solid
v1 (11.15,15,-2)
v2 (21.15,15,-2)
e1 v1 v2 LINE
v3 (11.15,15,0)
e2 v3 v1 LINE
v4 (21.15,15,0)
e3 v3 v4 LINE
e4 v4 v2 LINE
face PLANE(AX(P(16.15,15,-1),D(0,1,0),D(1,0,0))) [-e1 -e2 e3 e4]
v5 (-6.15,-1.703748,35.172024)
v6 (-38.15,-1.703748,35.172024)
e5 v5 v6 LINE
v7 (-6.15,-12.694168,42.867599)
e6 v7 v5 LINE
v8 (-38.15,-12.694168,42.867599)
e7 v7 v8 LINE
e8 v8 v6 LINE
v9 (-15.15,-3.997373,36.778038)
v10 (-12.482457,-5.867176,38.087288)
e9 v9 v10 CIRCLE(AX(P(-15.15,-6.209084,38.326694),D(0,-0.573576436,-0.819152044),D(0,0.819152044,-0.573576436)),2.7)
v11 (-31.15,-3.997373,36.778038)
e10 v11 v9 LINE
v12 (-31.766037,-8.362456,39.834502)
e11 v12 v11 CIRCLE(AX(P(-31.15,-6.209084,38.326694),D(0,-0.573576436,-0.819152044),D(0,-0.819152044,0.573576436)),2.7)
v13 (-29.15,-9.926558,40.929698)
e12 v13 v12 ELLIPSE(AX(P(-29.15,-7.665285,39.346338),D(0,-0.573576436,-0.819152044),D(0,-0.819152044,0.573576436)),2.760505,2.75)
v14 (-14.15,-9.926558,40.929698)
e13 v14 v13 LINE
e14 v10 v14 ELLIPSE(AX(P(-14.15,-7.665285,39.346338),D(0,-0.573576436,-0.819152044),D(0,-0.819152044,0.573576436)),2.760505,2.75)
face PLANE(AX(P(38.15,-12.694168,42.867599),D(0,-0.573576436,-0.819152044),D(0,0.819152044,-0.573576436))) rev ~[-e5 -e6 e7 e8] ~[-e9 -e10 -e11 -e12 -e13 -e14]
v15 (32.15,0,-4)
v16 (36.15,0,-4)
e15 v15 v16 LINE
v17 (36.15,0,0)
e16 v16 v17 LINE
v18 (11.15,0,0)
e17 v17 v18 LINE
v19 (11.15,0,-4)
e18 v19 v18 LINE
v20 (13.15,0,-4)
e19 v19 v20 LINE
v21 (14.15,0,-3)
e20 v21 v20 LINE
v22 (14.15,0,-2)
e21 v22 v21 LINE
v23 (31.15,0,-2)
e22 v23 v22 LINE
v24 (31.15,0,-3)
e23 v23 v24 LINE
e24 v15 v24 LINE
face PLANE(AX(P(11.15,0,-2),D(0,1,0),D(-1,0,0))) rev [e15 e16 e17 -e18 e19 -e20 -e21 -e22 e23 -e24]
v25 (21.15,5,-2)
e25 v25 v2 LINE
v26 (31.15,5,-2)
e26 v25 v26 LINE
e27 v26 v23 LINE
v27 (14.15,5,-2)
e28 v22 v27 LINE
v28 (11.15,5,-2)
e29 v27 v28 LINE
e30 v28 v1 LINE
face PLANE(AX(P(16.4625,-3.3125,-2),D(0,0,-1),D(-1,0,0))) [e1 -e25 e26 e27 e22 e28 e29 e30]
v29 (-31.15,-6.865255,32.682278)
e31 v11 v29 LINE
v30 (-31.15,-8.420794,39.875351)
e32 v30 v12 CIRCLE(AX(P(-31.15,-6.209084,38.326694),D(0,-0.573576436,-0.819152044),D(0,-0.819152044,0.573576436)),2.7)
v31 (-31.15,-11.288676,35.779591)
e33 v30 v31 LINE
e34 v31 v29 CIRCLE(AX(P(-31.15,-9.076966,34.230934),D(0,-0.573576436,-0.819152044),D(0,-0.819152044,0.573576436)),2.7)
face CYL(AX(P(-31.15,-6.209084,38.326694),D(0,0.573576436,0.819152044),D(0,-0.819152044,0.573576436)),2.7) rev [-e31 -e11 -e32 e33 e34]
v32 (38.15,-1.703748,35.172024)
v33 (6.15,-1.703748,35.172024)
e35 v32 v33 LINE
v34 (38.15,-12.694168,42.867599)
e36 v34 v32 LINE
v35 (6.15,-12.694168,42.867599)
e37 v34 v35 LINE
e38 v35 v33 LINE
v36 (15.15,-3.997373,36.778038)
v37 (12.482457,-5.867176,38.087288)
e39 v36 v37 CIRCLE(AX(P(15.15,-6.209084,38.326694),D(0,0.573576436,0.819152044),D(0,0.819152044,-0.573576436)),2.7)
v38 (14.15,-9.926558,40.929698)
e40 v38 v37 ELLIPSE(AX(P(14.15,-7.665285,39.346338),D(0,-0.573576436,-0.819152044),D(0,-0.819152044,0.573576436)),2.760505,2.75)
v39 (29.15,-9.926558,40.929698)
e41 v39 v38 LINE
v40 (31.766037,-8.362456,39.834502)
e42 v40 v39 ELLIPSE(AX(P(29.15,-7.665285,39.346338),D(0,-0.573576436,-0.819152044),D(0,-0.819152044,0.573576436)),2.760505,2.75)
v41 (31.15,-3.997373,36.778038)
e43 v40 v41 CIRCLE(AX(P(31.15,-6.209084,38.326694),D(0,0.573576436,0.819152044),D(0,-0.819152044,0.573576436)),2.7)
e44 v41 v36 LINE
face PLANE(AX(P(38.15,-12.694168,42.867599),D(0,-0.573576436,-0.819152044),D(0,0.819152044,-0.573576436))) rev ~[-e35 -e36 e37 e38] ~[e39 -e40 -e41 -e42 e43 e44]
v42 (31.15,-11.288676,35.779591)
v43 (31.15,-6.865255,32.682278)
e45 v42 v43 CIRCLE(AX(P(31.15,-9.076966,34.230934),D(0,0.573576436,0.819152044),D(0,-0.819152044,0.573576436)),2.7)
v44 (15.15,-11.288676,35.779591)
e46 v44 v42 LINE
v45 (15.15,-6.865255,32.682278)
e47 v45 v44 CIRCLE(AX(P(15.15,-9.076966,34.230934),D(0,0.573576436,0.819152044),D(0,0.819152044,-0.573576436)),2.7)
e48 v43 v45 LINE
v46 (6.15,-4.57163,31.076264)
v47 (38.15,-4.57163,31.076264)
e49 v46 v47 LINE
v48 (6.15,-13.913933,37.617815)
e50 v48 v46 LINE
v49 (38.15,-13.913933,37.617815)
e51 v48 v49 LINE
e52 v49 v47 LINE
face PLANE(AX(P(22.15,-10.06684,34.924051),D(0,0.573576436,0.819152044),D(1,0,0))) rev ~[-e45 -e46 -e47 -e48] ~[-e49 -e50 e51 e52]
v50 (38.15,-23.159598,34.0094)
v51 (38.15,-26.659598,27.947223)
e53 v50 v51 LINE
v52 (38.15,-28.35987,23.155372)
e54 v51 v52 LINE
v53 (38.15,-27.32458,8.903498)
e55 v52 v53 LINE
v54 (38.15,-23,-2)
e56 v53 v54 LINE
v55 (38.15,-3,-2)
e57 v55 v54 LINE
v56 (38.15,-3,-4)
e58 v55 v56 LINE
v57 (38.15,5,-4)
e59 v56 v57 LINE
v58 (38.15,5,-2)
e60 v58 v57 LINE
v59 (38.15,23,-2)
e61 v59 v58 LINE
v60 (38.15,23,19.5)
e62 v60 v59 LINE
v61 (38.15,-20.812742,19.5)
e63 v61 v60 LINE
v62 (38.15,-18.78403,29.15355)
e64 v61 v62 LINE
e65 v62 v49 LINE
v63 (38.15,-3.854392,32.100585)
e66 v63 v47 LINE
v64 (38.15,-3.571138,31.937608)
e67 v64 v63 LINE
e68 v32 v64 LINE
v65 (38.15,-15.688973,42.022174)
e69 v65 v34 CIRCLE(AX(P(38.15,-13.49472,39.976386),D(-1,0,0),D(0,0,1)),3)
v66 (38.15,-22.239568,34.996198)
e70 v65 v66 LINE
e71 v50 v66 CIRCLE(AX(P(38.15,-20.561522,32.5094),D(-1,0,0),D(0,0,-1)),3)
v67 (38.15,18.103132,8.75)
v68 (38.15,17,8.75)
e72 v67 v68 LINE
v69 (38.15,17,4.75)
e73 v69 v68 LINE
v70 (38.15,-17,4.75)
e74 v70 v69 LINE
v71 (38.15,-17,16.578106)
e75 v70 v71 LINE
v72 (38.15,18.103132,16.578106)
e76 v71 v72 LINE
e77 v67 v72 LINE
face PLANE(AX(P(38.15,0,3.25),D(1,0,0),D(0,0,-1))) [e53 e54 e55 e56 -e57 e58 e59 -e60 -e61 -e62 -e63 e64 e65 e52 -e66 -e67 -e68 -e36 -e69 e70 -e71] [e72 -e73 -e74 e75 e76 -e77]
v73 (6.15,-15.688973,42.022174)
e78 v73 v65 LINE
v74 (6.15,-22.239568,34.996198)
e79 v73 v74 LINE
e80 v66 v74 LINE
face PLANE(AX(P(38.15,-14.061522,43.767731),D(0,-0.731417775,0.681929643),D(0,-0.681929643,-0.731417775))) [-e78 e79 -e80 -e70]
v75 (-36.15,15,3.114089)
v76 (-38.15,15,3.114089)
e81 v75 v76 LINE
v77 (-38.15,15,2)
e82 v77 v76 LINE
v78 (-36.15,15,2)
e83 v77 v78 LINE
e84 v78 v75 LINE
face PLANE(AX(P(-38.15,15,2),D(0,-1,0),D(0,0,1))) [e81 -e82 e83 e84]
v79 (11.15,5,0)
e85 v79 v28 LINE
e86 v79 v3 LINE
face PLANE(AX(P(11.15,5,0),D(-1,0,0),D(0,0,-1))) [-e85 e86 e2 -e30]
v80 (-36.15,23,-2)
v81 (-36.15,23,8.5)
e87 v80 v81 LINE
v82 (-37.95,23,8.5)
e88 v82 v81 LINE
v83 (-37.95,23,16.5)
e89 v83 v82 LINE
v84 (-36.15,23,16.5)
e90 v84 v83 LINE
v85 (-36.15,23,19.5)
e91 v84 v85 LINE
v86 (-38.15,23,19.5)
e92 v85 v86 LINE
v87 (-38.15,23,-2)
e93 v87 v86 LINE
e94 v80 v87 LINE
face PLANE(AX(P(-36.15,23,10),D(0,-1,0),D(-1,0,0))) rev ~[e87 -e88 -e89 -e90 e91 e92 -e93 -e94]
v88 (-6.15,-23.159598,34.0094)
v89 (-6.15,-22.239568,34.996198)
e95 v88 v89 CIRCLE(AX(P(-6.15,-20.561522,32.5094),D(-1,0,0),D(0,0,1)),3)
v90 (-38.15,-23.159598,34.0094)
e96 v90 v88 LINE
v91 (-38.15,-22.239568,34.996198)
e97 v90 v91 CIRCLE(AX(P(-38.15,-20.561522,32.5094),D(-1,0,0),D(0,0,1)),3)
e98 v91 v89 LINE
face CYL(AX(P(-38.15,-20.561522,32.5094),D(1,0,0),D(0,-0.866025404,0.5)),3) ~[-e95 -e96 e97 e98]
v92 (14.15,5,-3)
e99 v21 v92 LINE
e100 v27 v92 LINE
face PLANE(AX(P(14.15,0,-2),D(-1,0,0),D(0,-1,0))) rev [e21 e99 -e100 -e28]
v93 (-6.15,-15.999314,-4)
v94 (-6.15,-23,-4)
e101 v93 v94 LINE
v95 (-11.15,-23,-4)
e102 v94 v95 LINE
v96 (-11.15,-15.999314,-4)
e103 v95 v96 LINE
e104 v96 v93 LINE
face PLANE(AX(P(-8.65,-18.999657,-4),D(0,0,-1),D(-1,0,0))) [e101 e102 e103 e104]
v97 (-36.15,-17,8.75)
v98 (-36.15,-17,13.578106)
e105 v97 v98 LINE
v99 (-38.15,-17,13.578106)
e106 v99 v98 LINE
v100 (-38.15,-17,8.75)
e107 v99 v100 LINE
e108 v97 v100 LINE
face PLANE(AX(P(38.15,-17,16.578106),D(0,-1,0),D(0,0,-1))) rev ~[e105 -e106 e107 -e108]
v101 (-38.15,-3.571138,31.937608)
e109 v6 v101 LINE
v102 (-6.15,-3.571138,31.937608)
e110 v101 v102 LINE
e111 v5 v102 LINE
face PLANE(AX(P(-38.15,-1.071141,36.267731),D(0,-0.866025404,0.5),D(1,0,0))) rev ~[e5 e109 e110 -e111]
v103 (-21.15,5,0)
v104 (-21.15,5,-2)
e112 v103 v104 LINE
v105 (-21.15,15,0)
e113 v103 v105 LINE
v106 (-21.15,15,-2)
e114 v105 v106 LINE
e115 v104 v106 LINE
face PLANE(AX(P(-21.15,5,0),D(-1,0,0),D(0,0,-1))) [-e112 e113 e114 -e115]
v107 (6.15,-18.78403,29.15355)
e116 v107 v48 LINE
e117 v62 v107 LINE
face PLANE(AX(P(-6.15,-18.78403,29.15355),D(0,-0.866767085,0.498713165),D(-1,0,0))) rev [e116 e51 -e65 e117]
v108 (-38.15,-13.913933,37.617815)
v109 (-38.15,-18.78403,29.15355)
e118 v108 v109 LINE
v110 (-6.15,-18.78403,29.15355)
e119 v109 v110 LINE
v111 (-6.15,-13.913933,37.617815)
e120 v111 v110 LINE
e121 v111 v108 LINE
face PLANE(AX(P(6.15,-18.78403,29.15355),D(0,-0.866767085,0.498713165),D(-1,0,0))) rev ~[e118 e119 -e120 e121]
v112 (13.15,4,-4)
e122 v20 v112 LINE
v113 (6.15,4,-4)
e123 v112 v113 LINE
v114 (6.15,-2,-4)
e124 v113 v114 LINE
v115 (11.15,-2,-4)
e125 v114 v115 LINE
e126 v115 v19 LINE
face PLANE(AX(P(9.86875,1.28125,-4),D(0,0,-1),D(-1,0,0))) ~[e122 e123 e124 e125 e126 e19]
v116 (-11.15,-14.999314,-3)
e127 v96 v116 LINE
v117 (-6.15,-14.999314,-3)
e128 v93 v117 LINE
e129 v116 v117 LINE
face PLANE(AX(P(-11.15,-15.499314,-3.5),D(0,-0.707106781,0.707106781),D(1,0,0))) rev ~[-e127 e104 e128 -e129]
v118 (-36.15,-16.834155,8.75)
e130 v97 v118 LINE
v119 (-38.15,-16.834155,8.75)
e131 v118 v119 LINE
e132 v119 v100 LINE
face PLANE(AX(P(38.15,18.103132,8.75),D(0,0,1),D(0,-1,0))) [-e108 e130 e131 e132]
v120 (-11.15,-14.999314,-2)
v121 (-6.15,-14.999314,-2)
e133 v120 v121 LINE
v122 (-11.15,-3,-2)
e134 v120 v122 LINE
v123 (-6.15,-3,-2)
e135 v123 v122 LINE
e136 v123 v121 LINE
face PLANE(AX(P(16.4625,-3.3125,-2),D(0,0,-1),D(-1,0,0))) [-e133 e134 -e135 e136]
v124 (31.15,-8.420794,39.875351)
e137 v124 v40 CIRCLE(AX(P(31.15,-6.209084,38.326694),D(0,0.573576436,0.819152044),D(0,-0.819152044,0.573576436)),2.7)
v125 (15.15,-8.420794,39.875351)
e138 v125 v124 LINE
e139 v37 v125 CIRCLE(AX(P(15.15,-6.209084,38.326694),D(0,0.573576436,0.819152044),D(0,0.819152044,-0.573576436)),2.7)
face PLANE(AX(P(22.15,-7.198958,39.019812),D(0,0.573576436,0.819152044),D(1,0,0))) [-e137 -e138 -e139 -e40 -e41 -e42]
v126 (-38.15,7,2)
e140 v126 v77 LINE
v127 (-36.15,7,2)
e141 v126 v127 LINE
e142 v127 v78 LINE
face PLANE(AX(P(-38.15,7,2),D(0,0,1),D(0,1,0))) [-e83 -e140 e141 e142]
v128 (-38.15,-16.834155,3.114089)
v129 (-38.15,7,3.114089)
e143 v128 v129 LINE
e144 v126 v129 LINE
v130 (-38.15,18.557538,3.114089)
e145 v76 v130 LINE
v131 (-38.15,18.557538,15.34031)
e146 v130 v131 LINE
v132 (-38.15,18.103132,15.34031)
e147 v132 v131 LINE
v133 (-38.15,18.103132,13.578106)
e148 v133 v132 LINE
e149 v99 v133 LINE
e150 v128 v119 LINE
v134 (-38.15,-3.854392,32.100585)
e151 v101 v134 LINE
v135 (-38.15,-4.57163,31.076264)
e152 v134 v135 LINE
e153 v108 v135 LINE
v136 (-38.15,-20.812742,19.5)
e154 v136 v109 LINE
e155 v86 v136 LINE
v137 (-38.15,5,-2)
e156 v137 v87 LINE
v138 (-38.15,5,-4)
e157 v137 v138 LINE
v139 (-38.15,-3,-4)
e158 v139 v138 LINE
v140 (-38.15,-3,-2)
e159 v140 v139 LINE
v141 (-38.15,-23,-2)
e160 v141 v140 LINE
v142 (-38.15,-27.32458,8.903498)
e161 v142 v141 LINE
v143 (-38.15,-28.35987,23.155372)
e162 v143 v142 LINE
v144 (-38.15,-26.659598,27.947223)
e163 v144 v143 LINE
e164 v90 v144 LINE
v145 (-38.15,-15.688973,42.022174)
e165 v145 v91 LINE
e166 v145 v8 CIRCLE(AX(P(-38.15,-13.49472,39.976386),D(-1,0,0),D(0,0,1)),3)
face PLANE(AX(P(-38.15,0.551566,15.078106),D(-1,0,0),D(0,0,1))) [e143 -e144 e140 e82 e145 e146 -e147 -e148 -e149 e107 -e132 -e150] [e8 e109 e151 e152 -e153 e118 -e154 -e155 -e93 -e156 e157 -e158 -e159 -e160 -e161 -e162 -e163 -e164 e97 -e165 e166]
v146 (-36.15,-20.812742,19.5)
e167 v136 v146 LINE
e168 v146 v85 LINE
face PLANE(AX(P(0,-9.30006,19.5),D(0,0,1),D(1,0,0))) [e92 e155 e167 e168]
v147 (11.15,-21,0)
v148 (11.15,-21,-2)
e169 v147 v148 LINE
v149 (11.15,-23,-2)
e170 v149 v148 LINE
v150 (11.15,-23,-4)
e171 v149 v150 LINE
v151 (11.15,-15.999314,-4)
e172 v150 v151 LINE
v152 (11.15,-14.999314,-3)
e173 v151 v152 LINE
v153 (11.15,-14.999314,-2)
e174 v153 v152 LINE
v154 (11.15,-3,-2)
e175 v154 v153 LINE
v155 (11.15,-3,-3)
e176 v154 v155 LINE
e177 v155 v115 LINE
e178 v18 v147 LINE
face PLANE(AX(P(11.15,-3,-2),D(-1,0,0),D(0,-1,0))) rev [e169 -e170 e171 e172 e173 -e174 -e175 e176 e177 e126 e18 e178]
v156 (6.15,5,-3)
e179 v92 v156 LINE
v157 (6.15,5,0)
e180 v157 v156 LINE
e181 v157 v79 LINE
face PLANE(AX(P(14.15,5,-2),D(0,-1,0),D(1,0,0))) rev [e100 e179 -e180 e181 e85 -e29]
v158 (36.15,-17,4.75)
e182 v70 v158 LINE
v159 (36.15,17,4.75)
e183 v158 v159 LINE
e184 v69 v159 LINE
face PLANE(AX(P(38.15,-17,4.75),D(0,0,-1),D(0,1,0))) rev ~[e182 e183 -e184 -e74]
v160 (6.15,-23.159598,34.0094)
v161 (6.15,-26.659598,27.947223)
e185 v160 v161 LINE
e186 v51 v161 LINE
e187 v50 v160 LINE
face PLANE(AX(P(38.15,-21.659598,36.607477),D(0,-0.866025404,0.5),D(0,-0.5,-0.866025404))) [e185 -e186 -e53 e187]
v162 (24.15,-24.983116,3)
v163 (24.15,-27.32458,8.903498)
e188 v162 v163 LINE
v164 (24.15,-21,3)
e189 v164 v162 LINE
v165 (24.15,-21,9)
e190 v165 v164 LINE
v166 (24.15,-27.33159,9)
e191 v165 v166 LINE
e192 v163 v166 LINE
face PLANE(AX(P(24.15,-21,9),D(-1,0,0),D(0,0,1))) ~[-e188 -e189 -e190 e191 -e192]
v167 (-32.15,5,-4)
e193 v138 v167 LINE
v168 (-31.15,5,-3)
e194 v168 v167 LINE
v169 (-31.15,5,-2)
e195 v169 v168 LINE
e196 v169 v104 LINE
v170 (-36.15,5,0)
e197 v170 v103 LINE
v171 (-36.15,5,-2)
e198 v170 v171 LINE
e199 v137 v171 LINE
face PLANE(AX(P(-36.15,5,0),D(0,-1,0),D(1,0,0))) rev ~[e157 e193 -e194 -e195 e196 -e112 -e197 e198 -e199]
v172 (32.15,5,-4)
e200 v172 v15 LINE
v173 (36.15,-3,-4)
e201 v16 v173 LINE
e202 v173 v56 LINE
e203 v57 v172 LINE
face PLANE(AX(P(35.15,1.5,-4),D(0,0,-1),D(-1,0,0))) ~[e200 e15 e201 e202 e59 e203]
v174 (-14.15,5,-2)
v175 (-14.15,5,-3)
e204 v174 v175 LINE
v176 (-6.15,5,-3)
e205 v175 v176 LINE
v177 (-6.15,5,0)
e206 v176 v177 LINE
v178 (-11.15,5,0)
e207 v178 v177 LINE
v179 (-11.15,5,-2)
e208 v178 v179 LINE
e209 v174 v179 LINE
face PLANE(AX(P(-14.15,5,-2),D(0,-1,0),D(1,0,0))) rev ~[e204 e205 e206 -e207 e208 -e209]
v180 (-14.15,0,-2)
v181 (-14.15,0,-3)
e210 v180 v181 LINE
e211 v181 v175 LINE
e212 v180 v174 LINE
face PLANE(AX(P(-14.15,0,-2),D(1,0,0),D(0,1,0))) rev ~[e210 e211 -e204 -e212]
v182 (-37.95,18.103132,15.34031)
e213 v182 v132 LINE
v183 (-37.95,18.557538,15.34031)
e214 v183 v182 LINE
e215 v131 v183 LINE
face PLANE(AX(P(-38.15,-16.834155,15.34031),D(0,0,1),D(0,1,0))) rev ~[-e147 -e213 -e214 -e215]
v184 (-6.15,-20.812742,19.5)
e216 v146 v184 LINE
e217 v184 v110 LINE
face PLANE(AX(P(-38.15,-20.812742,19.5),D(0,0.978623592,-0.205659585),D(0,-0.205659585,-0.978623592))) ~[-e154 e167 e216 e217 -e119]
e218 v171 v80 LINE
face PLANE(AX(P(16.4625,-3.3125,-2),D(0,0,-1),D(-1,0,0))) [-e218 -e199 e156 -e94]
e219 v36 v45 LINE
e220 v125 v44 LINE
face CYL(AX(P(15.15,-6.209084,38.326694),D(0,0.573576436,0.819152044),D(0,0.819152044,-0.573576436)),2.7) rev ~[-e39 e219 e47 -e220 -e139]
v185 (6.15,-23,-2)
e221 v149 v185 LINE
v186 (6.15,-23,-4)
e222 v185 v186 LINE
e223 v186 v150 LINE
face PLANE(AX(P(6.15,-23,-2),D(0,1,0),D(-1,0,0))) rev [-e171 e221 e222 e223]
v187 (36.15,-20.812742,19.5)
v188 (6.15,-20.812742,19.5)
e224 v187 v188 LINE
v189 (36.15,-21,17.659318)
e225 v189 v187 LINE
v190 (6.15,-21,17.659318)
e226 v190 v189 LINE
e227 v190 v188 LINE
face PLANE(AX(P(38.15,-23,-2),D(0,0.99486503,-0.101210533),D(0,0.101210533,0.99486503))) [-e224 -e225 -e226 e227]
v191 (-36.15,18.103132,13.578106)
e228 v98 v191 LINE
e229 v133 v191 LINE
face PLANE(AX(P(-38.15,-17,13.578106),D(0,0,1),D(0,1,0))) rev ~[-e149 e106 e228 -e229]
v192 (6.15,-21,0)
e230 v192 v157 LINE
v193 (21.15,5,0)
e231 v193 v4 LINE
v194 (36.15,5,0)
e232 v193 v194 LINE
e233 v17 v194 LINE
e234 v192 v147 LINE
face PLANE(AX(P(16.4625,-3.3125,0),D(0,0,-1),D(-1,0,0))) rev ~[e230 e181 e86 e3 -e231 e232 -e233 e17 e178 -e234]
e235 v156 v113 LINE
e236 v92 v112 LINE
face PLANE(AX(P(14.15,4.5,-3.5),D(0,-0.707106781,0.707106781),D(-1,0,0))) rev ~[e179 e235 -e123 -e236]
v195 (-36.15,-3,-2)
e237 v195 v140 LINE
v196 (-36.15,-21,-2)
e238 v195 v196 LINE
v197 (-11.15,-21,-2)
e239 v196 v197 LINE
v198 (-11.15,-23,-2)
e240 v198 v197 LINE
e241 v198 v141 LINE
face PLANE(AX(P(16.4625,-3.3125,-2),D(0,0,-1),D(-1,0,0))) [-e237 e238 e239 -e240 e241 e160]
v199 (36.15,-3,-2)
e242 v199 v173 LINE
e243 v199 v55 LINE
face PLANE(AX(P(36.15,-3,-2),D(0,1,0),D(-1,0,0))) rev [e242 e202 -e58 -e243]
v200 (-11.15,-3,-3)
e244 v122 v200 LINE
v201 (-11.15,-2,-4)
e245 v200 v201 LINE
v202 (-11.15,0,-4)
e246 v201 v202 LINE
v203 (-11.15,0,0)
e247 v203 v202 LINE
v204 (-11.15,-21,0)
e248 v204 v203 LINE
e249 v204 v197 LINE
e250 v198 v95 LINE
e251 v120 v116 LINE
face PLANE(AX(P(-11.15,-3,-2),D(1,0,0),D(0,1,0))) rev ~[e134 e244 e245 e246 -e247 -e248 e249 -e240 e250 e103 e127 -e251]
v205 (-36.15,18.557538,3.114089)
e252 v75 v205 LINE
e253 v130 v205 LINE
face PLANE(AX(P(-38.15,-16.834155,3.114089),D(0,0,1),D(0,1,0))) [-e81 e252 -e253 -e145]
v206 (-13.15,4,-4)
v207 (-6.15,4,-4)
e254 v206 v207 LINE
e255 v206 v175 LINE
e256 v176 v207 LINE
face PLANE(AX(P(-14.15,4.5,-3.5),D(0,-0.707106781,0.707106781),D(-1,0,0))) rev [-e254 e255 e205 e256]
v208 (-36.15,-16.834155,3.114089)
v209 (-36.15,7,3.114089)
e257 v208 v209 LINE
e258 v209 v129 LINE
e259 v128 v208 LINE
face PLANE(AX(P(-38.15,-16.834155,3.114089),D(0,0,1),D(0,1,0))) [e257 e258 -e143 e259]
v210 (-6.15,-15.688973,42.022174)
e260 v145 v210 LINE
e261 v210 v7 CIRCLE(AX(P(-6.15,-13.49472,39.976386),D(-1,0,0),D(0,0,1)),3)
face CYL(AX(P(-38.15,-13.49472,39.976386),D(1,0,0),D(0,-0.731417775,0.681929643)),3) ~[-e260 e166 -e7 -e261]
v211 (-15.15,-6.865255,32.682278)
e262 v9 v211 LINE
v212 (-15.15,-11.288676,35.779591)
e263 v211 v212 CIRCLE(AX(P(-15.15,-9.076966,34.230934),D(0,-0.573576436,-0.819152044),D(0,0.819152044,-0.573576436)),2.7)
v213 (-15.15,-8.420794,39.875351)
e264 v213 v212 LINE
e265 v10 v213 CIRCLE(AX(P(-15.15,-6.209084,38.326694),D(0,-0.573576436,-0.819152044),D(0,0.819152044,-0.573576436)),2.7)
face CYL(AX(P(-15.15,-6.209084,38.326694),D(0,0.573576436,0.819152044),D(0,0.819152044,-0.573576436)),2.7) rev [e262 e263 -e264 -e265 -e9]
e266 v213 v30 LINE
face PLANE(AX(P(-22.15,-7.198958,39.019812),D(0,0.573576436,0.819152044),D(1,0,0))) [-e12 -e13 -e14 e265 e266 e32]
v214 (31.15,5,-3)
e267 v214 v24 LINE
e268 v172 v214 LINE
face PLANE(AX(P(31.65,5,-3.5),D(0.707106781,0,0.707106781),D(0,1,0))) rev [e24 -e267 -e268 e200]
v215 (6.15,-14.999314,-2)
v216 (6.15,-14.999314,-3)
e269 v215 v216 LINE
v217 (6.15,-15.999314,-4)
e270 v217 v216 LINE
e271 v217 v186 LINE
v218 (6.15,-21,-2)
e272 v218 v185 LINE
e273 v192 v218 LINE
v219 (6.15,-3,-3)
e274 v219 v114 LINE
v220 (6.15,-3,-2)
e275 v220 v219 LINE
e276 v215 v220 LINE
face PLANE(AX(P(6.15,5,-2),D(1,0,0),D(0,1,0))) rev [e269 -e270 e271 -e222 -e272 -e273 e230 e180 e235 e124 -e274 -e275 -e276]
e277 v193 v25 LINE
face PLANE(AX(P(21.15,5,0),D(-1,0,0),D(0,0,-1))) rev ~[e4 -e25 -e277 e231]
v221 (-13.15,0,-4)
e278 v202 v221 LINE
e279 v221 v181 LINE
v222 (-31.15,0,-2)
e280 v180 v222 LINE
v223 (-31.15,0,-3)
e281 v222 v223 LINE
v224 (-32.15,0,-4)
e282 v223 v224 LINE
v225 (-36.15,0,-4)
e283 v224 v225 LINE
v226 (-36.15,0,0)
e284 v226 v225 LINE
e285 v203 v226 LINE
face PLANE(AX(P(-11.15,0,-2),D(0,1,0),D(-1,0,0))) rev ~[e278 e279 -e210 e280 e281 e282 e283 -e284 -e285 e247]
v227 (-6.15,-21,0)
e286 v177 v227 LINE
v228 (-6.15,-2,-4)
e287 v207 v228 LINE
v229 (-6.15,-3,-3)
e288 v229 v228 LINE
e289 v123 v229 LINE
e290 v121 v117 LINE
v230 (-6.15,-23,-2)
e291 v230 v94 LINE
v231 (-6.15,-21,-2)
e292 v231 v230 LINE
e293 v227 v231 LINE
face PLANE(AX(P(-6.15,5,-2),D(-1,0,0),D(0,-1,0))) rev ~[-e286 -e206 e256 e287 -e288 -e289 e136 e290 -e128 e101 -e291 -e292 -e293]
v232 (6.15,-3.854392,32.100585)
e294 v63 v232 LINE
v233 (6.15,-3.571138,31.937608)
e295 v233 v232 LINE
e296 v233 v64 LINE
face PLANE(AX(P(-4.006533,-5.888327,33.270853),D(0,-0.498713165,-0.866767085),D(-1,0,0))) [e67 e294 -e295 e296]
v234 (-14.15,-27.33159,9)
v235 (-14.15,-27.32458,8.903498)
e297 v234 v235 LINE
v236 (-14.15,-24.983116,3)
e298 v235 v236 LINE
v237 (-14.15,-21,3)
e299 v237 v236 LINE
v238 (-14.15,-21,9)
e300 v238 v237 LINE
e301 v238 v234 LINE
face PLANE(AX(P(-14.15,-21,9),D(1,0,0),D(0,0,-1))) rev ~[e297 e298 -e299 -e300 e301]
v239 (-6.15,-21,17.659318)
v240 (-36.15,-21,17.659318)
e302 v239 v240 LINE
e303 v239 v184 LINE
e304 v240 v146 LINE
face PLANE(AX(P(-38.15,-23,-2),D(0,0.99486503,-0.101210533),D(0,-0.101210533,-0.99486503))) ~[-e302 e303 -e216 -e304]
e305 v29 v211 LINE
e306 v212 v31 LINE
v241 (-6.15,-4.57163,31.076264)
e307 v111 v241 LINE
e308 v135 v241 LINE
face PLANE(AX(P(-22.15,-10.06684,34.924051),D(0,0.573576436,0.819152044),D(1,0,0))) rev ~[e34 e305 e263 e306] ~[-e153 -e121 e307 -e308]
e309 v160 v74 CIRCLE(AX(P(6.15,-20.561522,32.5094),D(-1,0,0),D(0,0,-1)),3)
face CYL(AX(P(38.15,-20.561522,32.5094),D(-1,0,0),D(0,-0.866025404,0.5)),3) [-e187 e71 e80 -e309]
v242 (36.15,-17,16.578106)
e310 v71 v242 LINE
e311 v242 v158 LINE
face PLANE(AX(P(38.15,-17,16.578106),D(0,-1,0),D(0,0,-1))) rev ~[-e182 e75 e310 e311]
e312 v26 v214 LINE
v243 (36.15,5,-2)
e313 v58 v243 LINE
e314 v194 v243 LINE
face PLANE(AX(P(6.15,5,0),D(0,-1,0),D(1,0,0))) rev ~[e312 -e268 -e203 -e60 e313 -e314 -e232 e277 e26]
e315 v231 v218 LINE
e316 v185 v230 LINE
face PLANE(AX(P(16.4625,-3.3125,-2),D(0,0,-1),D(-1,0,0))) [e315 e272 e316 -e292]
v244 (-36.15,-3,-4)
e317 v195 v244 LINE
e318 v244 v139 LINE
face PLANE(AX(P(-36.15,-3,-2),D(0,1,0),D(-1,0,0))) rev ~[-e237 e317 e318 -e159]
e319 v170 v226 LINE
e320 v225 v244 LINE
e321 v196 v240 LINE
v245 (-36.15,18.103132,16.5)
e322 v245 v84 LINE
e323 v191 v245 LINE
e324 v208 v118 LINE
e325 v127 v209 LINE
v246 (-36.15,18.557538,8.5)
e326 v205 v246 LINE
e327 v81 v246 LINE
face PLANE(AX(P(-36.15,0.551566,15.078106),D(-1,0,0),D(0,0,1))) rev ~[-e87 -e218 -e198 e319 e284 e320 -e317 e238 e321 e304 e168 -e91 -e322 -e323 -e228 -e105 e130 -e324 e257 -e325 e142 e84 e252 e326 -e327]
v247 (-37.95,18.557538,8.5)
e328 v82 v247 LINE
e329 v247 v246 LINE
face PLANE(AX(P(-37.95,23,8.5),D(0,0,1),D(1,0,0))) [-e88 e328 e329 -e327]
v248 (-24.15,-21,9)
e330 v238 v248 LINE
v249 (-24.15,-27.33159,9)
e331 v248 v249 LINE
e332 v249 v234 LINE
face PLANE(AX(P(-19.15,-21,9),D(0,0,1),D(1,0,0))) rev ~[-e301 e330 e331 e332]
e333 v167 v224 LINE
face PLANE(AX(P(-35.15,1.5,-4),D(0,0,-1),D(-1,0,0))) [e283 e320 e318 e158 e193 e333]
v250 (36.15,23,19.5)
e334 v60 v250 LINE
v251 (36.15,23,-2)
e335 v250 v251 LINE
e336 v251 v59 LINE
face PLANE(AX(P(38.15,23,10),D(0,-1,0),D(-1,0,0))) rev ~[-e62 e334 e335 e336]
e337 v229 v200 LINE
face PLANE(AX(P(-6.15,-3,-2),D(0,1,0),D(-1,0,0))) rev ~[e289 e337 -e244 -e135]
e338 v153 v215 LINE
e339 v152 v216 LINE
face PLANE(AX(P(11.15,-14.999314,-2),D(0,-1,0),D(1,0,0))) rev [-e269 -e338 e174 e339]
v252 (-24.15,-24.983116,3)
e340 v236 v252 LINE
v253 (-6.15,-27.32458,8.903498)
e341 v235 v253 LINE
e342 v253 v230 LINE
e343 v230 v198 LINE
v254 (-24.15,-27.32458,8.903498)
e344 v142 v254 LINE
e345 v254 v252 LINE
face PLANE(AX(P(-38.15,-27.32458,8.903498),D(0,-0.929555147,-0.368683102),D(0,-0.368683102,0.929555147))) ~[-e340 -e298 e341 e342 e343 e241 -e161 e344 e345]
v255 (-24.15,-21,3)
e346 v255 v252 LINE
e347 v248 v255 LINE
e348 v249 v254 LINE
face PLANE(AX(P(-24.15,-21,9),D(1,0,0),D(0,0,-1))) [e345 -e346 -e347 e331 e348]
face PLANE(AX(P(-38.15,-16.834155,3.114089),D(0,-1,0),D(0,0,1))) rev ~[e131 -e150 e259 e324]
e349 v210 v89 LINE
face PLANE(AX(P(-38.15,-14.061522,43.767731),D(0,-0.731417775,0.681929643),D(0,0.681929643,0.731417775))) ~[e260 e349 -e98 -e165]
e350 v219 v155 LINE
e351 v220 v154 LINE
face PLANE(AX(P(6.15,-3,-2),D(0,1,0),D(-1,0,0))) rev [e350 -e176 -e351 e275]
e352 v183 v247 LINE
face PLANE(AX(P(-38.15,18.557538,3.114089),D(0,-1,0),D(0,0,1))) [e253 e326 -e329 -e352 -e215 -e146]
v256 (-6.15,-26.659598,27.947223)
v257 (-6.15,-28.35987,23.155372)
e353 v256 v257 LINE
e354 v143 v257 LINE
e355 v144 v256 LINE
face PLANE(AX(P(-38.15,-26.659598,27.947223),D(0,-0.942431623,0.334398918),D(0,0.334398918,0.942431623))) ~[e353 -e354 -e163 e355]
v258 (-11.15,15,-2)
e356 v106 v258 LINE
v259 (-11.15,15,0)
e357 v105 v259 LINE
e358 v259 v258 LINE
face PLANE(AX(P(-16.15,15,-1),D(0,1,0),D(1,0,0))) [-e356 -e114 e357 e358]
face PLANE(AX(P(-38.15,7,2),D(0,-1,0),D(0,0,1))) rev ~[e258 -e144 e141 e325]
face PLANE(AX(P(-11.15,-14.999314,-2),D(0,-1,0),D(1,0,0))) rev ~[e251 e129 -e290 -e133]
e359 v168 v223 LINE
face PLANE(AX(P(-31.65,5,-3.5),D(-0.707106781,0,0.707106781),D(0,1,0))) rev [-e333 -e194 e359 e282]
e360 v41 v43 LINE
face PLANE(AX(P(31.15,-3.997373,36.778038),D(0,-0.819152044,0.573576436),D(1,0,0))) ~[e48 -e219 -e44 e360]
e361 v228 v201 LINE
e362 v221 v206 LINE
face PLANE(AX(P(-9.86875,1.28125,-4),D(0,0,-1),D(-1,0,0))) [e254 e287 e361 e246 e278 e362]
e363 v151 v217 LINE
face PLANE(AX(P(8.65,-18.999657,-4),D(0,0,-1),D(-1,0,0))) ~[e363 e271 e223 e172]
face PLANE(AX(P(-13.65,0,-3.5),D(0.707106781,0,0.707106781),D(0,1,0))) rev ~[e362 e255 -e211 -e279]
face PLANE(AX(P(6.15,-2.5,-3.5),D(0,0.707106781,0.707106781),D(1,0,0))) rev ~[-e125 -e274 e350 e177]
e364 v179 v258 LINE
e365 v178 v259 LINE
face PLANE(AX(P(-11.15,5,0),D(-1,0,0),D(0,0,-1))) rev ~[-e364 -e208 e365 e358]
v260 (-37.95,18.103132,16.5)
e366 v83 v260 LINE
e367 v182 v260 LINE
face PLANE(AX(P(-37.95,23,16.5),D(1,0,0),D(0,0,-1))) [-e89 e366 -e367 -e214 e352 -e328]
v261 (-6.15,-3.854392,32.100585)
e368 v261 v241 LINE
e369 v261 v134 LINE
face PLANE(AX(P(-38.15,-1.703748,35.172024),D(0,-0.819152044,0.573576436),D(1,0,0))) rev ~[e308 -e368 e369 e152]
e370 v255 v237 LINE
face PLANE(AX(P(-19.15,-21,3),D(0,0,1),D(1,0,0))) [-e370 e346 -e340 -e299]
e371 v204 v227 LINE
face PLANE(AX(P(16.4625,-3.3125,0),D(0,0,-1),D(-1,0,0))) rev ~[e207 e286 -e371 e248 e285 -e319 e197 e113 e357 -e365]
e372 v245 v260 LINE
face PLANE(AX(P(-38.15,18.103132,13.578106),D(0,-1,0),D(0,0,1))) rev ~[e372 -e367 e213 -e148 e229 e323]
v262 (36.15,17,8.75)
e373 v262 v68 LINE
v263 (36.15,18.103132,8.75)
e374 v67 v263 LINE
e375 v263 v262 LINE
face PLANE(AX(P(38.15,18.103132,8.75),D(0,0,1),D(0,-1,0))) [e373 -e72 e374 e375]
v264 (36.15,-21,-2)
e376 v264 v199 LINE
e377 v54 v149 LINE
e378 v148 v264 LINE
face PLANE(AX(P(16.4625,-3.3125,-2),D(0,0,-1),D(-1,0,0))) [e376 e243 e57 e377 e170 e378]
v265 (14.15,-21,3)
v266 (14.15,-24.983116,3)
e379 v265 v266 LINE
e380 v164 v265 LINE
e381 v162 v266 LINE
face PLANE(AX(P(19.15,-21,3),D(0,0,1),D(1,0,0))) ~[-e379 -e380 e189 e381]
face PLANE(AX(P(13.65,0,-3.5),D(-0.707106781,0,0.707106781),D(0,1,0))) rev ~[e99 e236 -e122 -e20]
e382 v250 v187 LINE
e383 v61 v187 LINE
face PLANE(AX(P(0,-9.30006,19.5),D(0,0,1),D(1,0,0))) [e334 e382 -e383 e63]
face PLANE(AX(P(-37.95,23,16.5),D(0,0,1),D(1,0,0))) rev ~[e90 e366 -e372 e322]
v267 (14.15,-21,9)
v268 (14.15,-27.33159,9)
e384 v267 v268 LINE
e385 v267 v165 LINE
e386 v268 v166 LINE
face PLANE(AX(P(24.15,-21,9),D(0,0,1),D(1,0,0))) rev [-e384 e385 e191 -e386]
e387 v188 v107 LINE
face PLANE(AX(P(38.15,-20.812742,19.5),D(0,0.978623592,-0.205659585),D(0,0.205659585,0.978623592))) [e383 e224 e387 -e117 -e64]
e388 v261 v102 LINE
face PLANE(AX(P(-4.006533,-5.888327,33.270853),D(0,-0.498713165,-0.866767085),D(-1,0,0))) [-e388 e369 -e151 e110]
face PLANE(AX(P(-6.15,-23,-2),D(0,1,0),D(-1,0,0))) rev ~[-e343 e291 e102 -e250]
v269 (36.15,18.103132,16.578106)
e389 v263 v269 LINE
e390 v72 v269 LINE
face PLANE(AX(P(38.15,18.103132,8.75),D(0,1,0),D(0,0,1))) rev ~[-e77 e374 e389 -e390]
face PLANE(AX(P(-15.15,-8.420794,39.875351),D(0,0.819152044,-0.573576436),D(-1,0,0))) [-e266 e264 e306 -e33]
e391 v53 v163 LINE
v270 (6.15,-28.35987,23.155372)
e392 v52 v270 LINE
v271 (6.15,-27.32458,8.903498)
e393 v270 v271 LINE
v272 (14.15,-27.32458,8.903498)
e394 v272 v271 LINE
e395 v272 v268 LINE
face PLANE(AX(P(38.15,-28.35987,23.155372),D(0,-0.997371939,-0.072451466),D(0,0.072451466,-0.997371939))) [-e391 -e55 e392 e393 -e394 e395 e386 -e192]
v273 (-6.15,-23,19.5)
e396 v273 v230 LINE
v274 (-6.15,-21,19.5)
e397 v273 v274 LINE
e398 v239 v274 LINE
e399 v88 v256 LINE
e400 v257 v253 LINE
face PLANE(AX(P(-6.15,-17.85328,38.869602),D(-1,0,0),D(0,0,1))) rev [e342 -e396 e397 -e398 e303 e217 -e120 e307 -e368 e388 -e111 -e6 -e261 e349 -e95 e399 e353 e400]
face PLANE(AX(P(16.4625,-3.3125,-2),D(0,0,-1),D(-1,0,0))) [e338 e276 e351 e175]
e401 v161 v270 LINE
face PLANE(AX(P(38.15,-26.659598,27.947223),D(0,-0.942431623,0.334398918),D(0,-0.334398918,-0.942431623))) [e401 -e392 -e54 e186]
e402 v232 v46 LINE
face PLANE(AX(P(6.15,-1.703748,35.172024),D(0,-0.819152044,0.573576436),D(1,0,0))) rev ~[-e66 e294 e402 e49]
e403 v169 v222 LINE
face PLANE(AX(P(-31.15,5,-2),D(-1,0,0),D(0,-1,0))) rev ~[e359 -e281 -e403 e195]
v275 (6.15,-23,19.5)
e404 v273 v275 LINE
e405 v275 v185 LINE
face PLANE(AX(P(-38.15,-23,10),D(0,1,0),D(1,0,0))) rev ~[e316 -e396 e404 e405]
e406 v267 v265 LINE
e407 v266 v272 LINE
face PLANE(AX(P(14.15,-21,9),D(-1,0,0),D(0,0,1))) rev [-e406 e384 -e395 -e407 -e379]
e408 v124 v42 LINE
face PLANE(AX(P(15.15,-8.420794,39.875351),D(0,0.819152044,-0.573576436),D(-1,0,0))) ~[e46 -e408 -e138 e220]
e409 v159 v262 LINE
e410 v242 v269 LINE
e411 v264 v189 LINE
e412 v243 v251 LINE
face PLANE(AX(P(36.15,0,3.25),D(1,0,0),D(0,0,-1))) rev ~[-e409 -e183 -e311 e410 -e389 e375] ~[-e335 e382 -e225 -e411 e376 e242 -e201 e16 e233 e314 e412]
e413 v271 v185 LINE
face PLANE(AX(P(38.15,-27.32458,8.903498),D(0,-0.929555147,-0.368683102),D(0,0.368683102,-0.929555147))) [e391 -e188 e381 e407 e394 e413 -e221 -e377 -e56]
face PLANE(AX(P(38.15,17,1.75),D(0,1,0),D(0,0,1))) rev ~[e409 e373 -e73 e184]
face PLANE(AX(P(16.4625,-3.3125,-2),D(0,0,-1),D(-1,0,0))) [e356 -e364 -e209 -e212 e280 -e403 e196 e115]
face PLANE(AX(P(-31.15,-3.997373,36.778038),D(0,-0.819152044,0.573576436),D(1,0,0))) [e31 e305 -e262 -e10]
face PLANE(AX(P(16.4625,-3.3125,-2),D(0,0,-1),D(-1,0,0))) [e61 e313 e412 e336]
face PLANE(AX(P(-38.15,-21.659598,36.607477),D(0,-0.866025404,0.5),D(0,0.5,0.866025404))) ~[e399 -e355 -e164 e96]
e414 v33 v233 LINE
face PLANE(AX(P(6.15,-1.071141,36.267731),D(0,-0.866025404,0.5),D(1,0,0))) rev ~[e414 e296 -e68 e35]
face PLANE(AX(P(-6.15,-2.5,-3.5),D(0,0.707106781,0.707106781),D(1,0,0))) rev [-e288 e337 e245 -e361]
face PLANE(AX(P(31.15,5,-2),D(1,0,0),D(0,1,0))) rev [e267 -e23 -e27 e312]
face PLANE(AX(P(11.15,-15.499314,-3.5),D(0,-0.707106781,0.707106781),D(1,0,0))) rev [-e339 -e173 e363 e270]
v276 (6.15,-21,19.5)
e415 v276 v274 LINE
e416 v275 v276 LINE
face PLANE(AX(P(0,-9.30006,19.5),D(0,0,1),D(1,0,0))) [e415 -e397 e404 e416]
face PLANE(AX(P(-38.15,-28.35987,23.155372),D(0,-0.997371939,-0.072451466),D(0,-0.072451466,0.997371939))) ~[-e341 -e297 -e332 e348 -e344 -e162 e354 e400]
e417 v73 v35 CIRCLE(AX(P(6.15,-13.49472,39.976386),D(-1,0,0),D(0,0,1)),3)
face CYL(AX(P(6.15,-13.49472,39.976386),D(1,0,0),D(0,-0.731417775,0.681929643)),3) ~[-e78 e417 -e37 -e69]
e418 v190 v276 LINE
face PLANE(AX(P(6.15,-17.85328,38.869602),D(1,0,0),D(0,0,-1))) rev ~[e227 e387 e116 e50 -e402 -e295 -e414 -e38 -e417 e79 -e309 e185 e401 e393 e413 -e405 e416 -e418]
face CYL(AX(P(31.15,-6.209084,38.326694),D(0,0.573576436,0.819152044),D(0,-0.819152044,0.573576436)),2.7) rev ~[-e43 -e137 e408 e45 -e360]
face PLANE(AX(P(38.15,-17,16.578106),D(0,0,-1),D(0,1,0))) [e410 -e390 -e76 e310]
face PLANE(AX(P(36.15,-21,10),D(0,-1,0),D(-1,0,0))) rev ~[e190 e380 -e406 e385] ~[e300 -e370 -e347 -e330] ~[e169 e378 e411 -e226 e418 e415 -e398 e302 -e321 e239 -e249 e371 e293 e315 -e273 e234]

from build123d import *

# Parameters (mm, degrees)
EXTRUDE_2_DEPTH      = 10
SKETCH_6_W           = 2
SKETCH_6_H           = 18
EXTRUDE_3_DEPTH      = 2
EXTRUDE_4_DEPTH      = 9.5
SKETCH_8_W           = 7
SKETCH_8_H           = 28
CUT_EXTRUDE_3_DEPTH  = 25.5
SKETCH_9_W           = 7.5
SKETCH_9_H           = 8
CUT_EXTRUDE_4_DEPTH  = 25.5
SKETCH_10_W          = 1.5
SKETCH_10_H          = 3
CUT_EXTRUDE_5_DEPTH  = 32
EXTRUDE_5_DEPTH      = 32
FILLET_1_R           = 3
FILLET_2_R           = 3
SKETCH_15_W          = 10
SKETCH_15_H          = 2
EXTRUDE_6_DEPTH      = 10
CUT_EXTRUDE_7_DEPTH  = 10
SKETCH_17_W          = 5
SKETCH_17_H          = 6
CUT_EXTRUDE_8_DEPTH  = 10
SKETCH_18_W          = 1.50410549
SKETCH_18_H          = 3
CUT_EXTRUDE_9_DEPTH  = 32
SKETCH_19_W          = 5
SKETCH_19_H          = 6
CUT_EXTRUDE_10_DEPTH = 10
CUT_EXTRUDE_11_DEPTH = 10
SKETCH_22_W          = 1.8
SKETCH_22_H          = 8
CUT_EXTRUDE_12_DEPTH = 34
CUT_EXTRUDE_13_DEPTH = 34
EXTRUDE_7_DEPTH      = 2
CHAMFER_1_SIZE       = 1
EXTRUDE_START        = 10
SKETCH_25_W          = 32
SKETCH_25_H          = 15
EXTRUDE_8_DEPTH      = 10
EXTRUDE_9_DEPTH      = 32
CUT_EXTRUDE_15_DEPTH = 10
FILLET_3_R           = 3
SKETCH_28_W          = 12.226221142
SKETCH_28_H          = 35.391692779
CUT_EXTRUDE_16_DEPTH = 10
CUT_EXTRUDE_17_DEPTH = 95
CUT_EXTRUDE_18_DEPTH = 95
SKETCH_31_W          = 3
SKETCH_31_H          = 34
EXTRUDE_10_DEPTH     = 2
SKETCH_32_W          = 3
SKETCH_32_H          = 35.103131655
EXTRUDE_11_DEPTH     = 2
SKETCH_33_W          = 32
SKETCH_33_H          = 13.416826231
EXTRUDE_12_DEPTH     = 5
CUT_EXTRUDE_19_DEPTH = 5


with BuildPart() as part:
    # 草图5 → 凸台-拉伸2 (new body)
    with BuildSketch(Plane.XY):
        Polygon((-38.15, -23), (-38.15, 23), (-36.15, 23), (-36.15, -21), (36.15, -21), (36.15, 23), (38.15, 23), (38.15, -23), align=None)
    extrude(amount=EXTRUDE_2_DEPTH)

    # 草图6 → 凸台-拉伸3 (add)
    with BuildSketch(Plane(origin=(0, 0, 0), x_dir=(-1, 0, 0), z_dir=(0, 0, -1))):
        Polygon((-6.15, 5), (-36.15, 5), (-36.15, 0), (-11.15, 0), (-11.15, -21), (-6.15, -21), align=None)
        Polygon((-36.15, 0), (-36.15, 5), (-36.15, 23), (-38.15, 23), (-38.15, 5), (-38.15, 0), (-38.15, -23), (-11.15, -23), (-6.15, -23), (6.15, -23), (11.15, -23), (38.15, -23), (38.15, 0), (38.15, 5), (36.15, 5), (36.15, 0), (36.15, -21), (11.15, -21), (6.15, -21), (-6.15, -21), (-11.15, -21), (-36.15, -21), align=None)
        Polygon((6.15, 0), (6.15, -21), (11.15, -21), (11.15, 0), (36.15, 0), (36.15, 5), (6.15, 5), align=None)
        with Locations((37.15, 14)):
            Rectangle(SKETCH_6_W, SKETCH_6_H)
    extrude(amount=EXTRUDE_3_DEPTH)

    # 草图7 → 凸台-拉伸4 (add)
    with BuildSketch(Plane.XY.offset(10)):
        Polygon((36.15, 23), (36.15, -21), (-36.15, -21), (-36.15, 23), (-38.15, 23), (-38.15, -23), (38.15, -23), (38.15, 23), align=None)
    extrude(amount=EXTRUDE_4_DEPTH)

    # 草图8 → 切除-拉伸3 (cut)
    with BuildSketch(Plane(origin=(38.15, 0, 0), x_dir=(0, 0, -1), z_dir=(1, 0, 0))):
        with Locations((-5.25, 0)):
            Rectangle(SKETCH_8_W, SKETCH_8_H)
    extrude(amount=-CUT_EXTRUDE_3_DEPTH, mode=Mode.SUBTRACT)

    # 草图9 → 切除-拉伸4 (cut)
    with BuildSketch(Plane.ZY.offset(38.15)):
        with Locations((5.75, 11)):
            Rectangle(SKETCH_9_W, SKETCH_9_H)
    extrude(amount=-CUT_EXTRUDE_4_DEPTH, mode=Mode.SUBTRACT)

    # 草图10 → 切除-拉伸5 (cut)
    with BuildSketch(Plane(origin=(0, 23, 0), x_dir=(1, 0, 0), z_dir=(0, 1, 0))):
        with Locations((-36.9, -12)):
            Rectangle(SKETCH_10_W, SKETCH_10_H)
    extrude(amount=-CUT_EXTRUDE_5_DEPTH, mode=Mode.SUBTRACT)

    # 草图11 → 凸台-拉伸5 (add)
    with BuildSketch(Plane(origin=(38.15, 0, 0), x_dir=(0, 0, -1), z_dir=(1, 0, 0))):
        Polygon((-27.947222626, -26.659598219), (-23.155372135, -28.359869707), (-8.903497586, -27.324579693), (2, -23), (-19.5, -20.812742031), (-29.153549837, -18.784030413), (-23.27364124, -8.564706774), (-27.607476664, -6.071140951), (-36.607476664, -21.659598219), align=None)
    extrude_5 = extrude(amount=-EXTRUDE_5_DEPTH)

    # 镜向1: 凸台-拉伸5 across plane
    add(extrude_5.mirror(Plane(origin=(0, 0, 0), x_dir=(0, 0, 1), z_dir=(1, 0, 0))))

    # 圆角1
    fillet_1_edges = [part.edges().sort_by_distance(p)[0] for p in [
        (-22.15, -21.659598219, 36.607476664),
    ]]
    fillet(fillet_1_edges, radius=FILLET_1_R)

    # 圆角2
    fillet_2_edges = [part.edges().sort_by_distance(p)[0] for p in [
        (22.15, -21.659598219, 36.607476664),
    ]]
    fillet(fillet_2_edges, radius=FILLET_2_R)

    # 草图15 → 凸台-拉伸6 (add)
    with BuildSketch(Plane(origin=(0, 5, 0), x_dir=(1, 0, 0), z_dir=(0, 1, 0))):
        with Locations((-16.15, 1)):
            Rectangle(SKETCH_15_W, SKETCH_15_H)
        with Locations((16.15, 1)):
            Rectangle(SKETCH_15_W, SKETCH_15_H)
    extrude(amount=EXTRUDE_6_DEPTH)

    # 草图16 → 切除-拉伸7 (cut)
    with BuildSketch(Plane(origin=(38.15, 0, 0), x_dir=(0, 0, -1), z_dir=(1, 0, 0))):
        Polygon((-9.75, 5), (-8.75, 5), (-8.75, 14), (-1.75, 14), (-1.75, 17), (-9.75, 17), align=None)
    extrude(amount=-CUT_EXTRUDE_7_DEPTH, mode=Mode.SUBTRACT)

    # 草图17 → 切除-拉伸8 (cut)
    with BuildSketch(Plane(origin=(0, -21, 0), x_dir=(1, 0, 0), z_dir=(0, 1, 0))):
        with Locations((-21.65, -6)):
            Rectangle(SKETCH_17_W, SKETCH_17_H)
    cut_extrude_8 = extrude(amount=-CUT_EXTRUDE_8_DEPTH, mode=Mode.SUBTRACT)

    # 镜向3: 切除-拉伸8 across plane
    add(cut_extrude_8.mirror(Plane(origin=(0, 0, 0), x_dir=(0, 0, 1), z_dir=(1, 0, 0))), mode=Mode.SUBTRACT)

    # 草图18 → 切除-拉伸9 (cut)
    with BuildSketch(Plane(origin=(0, 23, 0), x_dir=(1, 0, 0), z_dir=(0, 1, 0))):
        with Locations((-36.902052745, -15)):
            Rectangle(SKETCH_18_W, SKETCH_18_H)
    extrude(amount=-CUT_EXTRUDE_9_DEPTH, mode=Mode.SUBTRACT)

    # 草图19 → 切除-拉伸10 (cut)
    with BuildSketch(Plane(origin=(0, -21, 0), x_dir=(1, 0, 0), z_dir=(0, 1, 0))):
        with Locations((-16.65, -6)):
            Rectangle(SKETCH_19_W, SKETCH_19_H)
    cut_extrude_10 = extrude(amount=-CUT_EXTRUDE_10_DEPTH, mode=Mode.SUBTRACT)

    # 镜向4: 切除-拉伸10 across plane
    add(cut_extrude_10.mirror(Plane(origin=(0, 0, 0), x_dir=(0, 0, 1), z_dir=(1, 0, 0))), mode=Mode.SUBTRACT)

    # 草图21 → 切除-拉伸11 (cut)
    with BuildSketch(Plane(origin=(0, 10.436602825, 18.076726351), x_dir=(1, 0, 0), z_dir=(0, 0.5000000000000001, 0.8660254037844386))):
        with BuildLine():
            Line((-29.15, -23.561500625), (-14.15, -23.561500625))
            ThreePointArc((-14.15, -23.561500625), (-11.4, -26.311500625), (-14.15, -29.061500625))
            Line((-14.15, -29.061500625), (-29.15, -29.061500625))
            ThreePointArc((-29.15, -29.061500625), (-31.9, -26.311500625), (-29.15, -23.561500625))
        make_face()
        with BuildLine():
            Line((14.15, -23.561500625), (29.15, -23.561500625))
            ThreePointArc((29.15, -23.561500625), (31.9, -26.311500625), (29.15, -29.061500625))
            Line((29.15, -29.061500625), (14.15, -29.061500625))
            ThreePointArc((14.15, -29.061500625), (11.4, -26.311500625), (14.15, -23.561500625))
        make_face()
    extrude(amount=-CUT_EXTRUDE_11_DEPTH, mode=Mode.SUBTRACT)

    # 草图22 → 切除-拉伸12 (cut)
    with BuildSketch(Plane(origin=(0, 23, 0), x_dir=(1, 0, 0), z_dir=(0, 1, 0))):
        with Locations((-37.05, -12.5)):
            Rectangle(SKETCH_22_W, SKETCH_22_H)
    extrude(amount=-CUT_EXTRUDE_12_DEPTH, mode=Mode.SUBTRACT)

    # 草图23 → 切除-拉伸13 (cut)
    with BuildSketch(Plane(origin=(38.15, 0, 0), x_dir=(0, 0, -1), z_dir=(1, 0, 0))):
        Polygon((-8.75, -14), (-8.75, 1), (-14.75, 1), (-14.75, -14), (-14.75, -17), (-1.75, -17), (-1.75, -14), align=None)
    extrude(amount=-CUT_EXTRUDE_13_DEPTH, mode=Mode.SUBTRACT)

    # 草图24 → 凸台-拉伸7 (add)
    with BuildSketch(Plane(origin=(0, 0, -2), x_dir=(-1, 0, 0), z_dir=(0, 0, -1))):
        Polygon((6.15, 5), (6.15, -3), (11.15, -3), (11.15, 0), (14.15, 0), (14.15, 5), (11.15, 5), align=None)
        Polygon((6.15, -21), (6.15, -23), (11.15, -23), (11.15, -21), (11.15, -14.999314237), (6.15, -14.999314237), align=None)
        Polygon((36.15, -3), (38.15, -3), (38.15, 5), (36.15, 5), (31.15, 5), (31.15, 0), (36.15, 0), align=None)
    extrude_7 = extrude(amount=EXTRUDE_7_DEPTH)

    # 镜向5: 凸台-拉伸7 across plane
    add(extrude_7.mirror(Plane(origin=(0, 0, 0), x_dir=(0, 0, 1), z_dir=(1, 0, 0))))

    # 倒角1
    chamfer_1_edges = [part.edges().sort_by_distance(p)[0] for p in [
        (-8.65, -14.999314237, -4),
        (8.65, -14.999314237, -4),
        (-31.15, 2.5, -4),
        (31.15, 2.5, -4),
        (-14.15, 2.5, -4),
        (-10.15, 5, -4),
        (-8.65, -3, -4),
        (8.65, -3, -4),
        (10.15, 5, -4),
        (14.15, 2.5, -4),
    ]]
    chamfer(chamfer_1_edges, length=CHAMFER_1_SIZE)

    # 草图25 → 凸台-拉伸8 (add)
    # profile 1 of 2: a face of its own
    with BuildSketch(Plane(origin=(0, 10.436602825, 18.076726351), x_dir=(1, 0, 0), z_dir=(0, 0.5000000000000001, 0.8660254037844386)).offset(EXTRUDE_START)):
        with Locations((22.15, -26.561500625)):
            Rectangle(SKETCH_25_W, SKETCH_25_H)
        with BuildLine():
            Line((14.15, -23.561500625), (29.15, -23.561500625))
            ThreePointArc((29.15, -23.561500625), (31.9, -26.311500625), (29.15, -29.061500625))
            Line((29.15, -29.061500625), (14.15, -29.061500625))
            ThreePointArc((14.15, -29.061500625), (11.4, -26.311500625), (14.15, -23.561500625))
        make_face(mode=Mode.SUBTRACT)
    # profile 2 of 2: a face of its own
    with BuildSketch(Plane(origin=(0, 10.436602825, 18.076726351), x_dir=(1, 0, 0), z_dir=(0, 0.5000000000000001, 0.8660254037844386)).offset(EXTRUDE_START)):
        with Locations((-22.15, -26.561500625)):
            Rectangle(SKETCH_25_W, SKETCH_25_H)
        with BuildLine():
            Line((-14.15, -29.061500625), (-29.15, -29.061500625))
            ThreePointArc((-29.15, -29.061500625), (-31.9, -26.311500625), (-29.15, -23.561500625))
            Line((-29.15, -23.561500625), (-14.15, -23.561500625))
            ThreePointArc((-14.15, -23.561500625), (-11.4, -26.311500625), (-14.15, -29.061500625))
        make_face(mode=Mode.SUBTRACT)
    extrude(amount=-EXTRUDE_8_DEPTH)

    # 草图26 → 凸台-拉伸9 (add)
    with BuildSketch(Plane(origin=(38.15, 0, 0), x_dir=(0, 0, -1), z_dir=(1, 0, 0))):
        with BuildLine():
            Line((-43.767730702, -14.061522007), (-34.996197894, -22.23956804))
            ThreePointArc((-34.996197894, -22.23956804), (-35.507563084, -20.66650219), (-35.107476664, -19.061522007))
            Line((-35.107476664, -19.061522007), (-43.767730702, -14.061522007))
        make_face()
    extrude_9 = extrude(amount=-EXTRUDE_9_DEPTH)

    # 镜向7: 凸台-拉伸9 across plane
    add(extrude_9.mirror(Plane(origin=(0, 0, 0), x_dir=(0, 0, 1), z_dir=(1, 0, 0))))

    # 草图27 → 切除-拉伸15 (cut)
    with BuildSketch(Plane(origin=(0, 7.930284472, 13.782891728), x_dir=(-1, 0, 0), z_dir=(0, -0.4987131647423246, -0.86676708481154))):
        Polygon((-6.15, -30.820638385), (6.15, -30.820638385), (38.15, -30.820638385), (42.174164157, -30.820638385), (42.174164157, -16.561104399), (-38.15, -16.561104399), (-38.15, -19.030477201), (-6.15, -19.030477201), align=None)
    cut_extrude_15 = extrude(amount=-CUT_EXTRUDE_15_DEPTH, mode=Mode.SUBTRACT)

    # 镜向8: 切除-拉伸15 across plane
    add(cut_extrude_15.mirror(Plane(origin=(0, 0, 0), x_dir=(0, 0, 1), z_dir=(1, 0, 0))), mode=Mode.SUBTRACT)

    # 圆角3
    fillet_3_edges = [part.edges().sort_by_distance(p)[0] for p in [
        (-22.15, -14.061522007, 43.767730702),
        (22.15, -14.061522007, 43.767730702),
    ]]
    fillet(fillet_3_edges, radius=FILLET_3_R)

    # 草图28 → 切除-拉伸16 (cut)
    with BuildSketch(Plane.ZY.offset(38.15)):
        with Locations((9.227199623, 0.86169181)):
            Rectangle(SKETCH_28_W, SKETCH_28_H)
    extrude(amount=-CUT_EXTRUDE_16_DEPTH, mode=Mode.SUBTRACT)

    # 草图29 → 切除-拉伸17 (cut)
    with BuildSketch(Plane(origin=(38.15, 0, 0), x_dir=(0, 0, -1), z_dir=(1, 0, 0))):
        with BuildLine():
            Line((-42.867599384, -12.694168141), (-35.172024007, -1.703747506))
            Line((-35.172024007, -1.703747506), (-36.267730702, -1.071140951))
            Line((-36.267730702, -1.071140951), (-42.574461771, -11.994719593))
            ThreePointArc((-42.574461771, -11.994719593), (-42.743221901, -12.335143524), (-42.867599384, -12.694168141))
        make_face()
    extrude(amount=-CUT_EXTRUDE_17_DEPTH, mode=Mode.SUBTRACT)

    # 草图30 → 切除-拉伸18 (cut)
    with BuildSketch(Plane(origin=(38.15, 0, 0), x_dir=(0, 0, -1), z_dir=(1, 0, 0))):
        Polygon((-14.75, -17), (-16.578106309, -17), (-16.578106309, 18.103131655), (-14.75, 18.103131655), (-8.75, 18.103131655), (-8.75, -17), align=None)
    extrude(amount=-CUT_EXTRUDE_18_DEPTH, mode=Mode.SUBTRACT)

    # 草图31 → 凸台-拉伸10 (add)
    with BuildSketch(Plane(origin=(38.15, 0, 0), x_dir=(0, 0, -1), z_dir=(1, 0, 0))):
        with Locations((-3.25, 0)):
            Rectangle(SKETCH_31_W, SKETCH_31_H)
    extrude(amount=-EXTRUDE_10_DEPTH)

    # 草图32 → 凸台-拉伸11 (add)
    with BuildSketch(Plane.ZY.offset(38.15)):
        with Locations((15.078106309, 0.551565828)):
            Rectangle(SKETCH_32_W, SKETCH_32_H)
    extrude(amount=-EXTRUDE_11_DEPTH)

    # 草图33 → 凸台-拉伸12 (add)
    with BuildSketch(Plane(origin=(0, 15.964929939, 22.80028287), x_dir=(1, 0, 0), z_dir=(0, 0.5735764363510407, 0.8191520442889957))):
        with Locations((22.15, -28.277885557)):
            Rectangle(SKETCH_33_W, SKETCH_33_H)
        with Locations((-22.15, -28.277885557)):
            Rectangle(SKETCH_33_W, SKETCH_33_H)
    extrude(amount=-EXTRUDE_12_DEPTH)

    # 草图34 → 切除-拉伸19 (cut)
    with BuildSketch(Plane(origin=(0, 15.964929939, 22.80028287), x_dir=(1, 0, 0), z_dir=(0, 0.5735764363510407, 0.8191520442889957))):
        with BuildLine():
            Line((-31.15, -24.369472442), (-15.15, -24.369472442))
            ThreePointArc((-15.15, -24.369472442), (-12.45, -27.069472442), (-15.15, -29.769472442))
            Line((-15.15, -29.769472442), (-31.15, -29.769472442))
            ThreePointArc((-31.15, -29.769472442), (-33.85, -27.069472442), (-31.15, -24.369472442))
        make_face()
    cut_extrude_19 = extrude(amount=-CUT_EXTRUDE_19_DEPTH, mode=Mode.SUBTRACT)

    # 镜向9: 切除-拉伸19 across plane
    add(cut_extrude_19.mirror(Plane(origin=(0, 0, 0), x_dir=(0, 0, 1), z_dir=(1, 0, 0))), mode=Mode.SUBTRACT)


solid = part.part
